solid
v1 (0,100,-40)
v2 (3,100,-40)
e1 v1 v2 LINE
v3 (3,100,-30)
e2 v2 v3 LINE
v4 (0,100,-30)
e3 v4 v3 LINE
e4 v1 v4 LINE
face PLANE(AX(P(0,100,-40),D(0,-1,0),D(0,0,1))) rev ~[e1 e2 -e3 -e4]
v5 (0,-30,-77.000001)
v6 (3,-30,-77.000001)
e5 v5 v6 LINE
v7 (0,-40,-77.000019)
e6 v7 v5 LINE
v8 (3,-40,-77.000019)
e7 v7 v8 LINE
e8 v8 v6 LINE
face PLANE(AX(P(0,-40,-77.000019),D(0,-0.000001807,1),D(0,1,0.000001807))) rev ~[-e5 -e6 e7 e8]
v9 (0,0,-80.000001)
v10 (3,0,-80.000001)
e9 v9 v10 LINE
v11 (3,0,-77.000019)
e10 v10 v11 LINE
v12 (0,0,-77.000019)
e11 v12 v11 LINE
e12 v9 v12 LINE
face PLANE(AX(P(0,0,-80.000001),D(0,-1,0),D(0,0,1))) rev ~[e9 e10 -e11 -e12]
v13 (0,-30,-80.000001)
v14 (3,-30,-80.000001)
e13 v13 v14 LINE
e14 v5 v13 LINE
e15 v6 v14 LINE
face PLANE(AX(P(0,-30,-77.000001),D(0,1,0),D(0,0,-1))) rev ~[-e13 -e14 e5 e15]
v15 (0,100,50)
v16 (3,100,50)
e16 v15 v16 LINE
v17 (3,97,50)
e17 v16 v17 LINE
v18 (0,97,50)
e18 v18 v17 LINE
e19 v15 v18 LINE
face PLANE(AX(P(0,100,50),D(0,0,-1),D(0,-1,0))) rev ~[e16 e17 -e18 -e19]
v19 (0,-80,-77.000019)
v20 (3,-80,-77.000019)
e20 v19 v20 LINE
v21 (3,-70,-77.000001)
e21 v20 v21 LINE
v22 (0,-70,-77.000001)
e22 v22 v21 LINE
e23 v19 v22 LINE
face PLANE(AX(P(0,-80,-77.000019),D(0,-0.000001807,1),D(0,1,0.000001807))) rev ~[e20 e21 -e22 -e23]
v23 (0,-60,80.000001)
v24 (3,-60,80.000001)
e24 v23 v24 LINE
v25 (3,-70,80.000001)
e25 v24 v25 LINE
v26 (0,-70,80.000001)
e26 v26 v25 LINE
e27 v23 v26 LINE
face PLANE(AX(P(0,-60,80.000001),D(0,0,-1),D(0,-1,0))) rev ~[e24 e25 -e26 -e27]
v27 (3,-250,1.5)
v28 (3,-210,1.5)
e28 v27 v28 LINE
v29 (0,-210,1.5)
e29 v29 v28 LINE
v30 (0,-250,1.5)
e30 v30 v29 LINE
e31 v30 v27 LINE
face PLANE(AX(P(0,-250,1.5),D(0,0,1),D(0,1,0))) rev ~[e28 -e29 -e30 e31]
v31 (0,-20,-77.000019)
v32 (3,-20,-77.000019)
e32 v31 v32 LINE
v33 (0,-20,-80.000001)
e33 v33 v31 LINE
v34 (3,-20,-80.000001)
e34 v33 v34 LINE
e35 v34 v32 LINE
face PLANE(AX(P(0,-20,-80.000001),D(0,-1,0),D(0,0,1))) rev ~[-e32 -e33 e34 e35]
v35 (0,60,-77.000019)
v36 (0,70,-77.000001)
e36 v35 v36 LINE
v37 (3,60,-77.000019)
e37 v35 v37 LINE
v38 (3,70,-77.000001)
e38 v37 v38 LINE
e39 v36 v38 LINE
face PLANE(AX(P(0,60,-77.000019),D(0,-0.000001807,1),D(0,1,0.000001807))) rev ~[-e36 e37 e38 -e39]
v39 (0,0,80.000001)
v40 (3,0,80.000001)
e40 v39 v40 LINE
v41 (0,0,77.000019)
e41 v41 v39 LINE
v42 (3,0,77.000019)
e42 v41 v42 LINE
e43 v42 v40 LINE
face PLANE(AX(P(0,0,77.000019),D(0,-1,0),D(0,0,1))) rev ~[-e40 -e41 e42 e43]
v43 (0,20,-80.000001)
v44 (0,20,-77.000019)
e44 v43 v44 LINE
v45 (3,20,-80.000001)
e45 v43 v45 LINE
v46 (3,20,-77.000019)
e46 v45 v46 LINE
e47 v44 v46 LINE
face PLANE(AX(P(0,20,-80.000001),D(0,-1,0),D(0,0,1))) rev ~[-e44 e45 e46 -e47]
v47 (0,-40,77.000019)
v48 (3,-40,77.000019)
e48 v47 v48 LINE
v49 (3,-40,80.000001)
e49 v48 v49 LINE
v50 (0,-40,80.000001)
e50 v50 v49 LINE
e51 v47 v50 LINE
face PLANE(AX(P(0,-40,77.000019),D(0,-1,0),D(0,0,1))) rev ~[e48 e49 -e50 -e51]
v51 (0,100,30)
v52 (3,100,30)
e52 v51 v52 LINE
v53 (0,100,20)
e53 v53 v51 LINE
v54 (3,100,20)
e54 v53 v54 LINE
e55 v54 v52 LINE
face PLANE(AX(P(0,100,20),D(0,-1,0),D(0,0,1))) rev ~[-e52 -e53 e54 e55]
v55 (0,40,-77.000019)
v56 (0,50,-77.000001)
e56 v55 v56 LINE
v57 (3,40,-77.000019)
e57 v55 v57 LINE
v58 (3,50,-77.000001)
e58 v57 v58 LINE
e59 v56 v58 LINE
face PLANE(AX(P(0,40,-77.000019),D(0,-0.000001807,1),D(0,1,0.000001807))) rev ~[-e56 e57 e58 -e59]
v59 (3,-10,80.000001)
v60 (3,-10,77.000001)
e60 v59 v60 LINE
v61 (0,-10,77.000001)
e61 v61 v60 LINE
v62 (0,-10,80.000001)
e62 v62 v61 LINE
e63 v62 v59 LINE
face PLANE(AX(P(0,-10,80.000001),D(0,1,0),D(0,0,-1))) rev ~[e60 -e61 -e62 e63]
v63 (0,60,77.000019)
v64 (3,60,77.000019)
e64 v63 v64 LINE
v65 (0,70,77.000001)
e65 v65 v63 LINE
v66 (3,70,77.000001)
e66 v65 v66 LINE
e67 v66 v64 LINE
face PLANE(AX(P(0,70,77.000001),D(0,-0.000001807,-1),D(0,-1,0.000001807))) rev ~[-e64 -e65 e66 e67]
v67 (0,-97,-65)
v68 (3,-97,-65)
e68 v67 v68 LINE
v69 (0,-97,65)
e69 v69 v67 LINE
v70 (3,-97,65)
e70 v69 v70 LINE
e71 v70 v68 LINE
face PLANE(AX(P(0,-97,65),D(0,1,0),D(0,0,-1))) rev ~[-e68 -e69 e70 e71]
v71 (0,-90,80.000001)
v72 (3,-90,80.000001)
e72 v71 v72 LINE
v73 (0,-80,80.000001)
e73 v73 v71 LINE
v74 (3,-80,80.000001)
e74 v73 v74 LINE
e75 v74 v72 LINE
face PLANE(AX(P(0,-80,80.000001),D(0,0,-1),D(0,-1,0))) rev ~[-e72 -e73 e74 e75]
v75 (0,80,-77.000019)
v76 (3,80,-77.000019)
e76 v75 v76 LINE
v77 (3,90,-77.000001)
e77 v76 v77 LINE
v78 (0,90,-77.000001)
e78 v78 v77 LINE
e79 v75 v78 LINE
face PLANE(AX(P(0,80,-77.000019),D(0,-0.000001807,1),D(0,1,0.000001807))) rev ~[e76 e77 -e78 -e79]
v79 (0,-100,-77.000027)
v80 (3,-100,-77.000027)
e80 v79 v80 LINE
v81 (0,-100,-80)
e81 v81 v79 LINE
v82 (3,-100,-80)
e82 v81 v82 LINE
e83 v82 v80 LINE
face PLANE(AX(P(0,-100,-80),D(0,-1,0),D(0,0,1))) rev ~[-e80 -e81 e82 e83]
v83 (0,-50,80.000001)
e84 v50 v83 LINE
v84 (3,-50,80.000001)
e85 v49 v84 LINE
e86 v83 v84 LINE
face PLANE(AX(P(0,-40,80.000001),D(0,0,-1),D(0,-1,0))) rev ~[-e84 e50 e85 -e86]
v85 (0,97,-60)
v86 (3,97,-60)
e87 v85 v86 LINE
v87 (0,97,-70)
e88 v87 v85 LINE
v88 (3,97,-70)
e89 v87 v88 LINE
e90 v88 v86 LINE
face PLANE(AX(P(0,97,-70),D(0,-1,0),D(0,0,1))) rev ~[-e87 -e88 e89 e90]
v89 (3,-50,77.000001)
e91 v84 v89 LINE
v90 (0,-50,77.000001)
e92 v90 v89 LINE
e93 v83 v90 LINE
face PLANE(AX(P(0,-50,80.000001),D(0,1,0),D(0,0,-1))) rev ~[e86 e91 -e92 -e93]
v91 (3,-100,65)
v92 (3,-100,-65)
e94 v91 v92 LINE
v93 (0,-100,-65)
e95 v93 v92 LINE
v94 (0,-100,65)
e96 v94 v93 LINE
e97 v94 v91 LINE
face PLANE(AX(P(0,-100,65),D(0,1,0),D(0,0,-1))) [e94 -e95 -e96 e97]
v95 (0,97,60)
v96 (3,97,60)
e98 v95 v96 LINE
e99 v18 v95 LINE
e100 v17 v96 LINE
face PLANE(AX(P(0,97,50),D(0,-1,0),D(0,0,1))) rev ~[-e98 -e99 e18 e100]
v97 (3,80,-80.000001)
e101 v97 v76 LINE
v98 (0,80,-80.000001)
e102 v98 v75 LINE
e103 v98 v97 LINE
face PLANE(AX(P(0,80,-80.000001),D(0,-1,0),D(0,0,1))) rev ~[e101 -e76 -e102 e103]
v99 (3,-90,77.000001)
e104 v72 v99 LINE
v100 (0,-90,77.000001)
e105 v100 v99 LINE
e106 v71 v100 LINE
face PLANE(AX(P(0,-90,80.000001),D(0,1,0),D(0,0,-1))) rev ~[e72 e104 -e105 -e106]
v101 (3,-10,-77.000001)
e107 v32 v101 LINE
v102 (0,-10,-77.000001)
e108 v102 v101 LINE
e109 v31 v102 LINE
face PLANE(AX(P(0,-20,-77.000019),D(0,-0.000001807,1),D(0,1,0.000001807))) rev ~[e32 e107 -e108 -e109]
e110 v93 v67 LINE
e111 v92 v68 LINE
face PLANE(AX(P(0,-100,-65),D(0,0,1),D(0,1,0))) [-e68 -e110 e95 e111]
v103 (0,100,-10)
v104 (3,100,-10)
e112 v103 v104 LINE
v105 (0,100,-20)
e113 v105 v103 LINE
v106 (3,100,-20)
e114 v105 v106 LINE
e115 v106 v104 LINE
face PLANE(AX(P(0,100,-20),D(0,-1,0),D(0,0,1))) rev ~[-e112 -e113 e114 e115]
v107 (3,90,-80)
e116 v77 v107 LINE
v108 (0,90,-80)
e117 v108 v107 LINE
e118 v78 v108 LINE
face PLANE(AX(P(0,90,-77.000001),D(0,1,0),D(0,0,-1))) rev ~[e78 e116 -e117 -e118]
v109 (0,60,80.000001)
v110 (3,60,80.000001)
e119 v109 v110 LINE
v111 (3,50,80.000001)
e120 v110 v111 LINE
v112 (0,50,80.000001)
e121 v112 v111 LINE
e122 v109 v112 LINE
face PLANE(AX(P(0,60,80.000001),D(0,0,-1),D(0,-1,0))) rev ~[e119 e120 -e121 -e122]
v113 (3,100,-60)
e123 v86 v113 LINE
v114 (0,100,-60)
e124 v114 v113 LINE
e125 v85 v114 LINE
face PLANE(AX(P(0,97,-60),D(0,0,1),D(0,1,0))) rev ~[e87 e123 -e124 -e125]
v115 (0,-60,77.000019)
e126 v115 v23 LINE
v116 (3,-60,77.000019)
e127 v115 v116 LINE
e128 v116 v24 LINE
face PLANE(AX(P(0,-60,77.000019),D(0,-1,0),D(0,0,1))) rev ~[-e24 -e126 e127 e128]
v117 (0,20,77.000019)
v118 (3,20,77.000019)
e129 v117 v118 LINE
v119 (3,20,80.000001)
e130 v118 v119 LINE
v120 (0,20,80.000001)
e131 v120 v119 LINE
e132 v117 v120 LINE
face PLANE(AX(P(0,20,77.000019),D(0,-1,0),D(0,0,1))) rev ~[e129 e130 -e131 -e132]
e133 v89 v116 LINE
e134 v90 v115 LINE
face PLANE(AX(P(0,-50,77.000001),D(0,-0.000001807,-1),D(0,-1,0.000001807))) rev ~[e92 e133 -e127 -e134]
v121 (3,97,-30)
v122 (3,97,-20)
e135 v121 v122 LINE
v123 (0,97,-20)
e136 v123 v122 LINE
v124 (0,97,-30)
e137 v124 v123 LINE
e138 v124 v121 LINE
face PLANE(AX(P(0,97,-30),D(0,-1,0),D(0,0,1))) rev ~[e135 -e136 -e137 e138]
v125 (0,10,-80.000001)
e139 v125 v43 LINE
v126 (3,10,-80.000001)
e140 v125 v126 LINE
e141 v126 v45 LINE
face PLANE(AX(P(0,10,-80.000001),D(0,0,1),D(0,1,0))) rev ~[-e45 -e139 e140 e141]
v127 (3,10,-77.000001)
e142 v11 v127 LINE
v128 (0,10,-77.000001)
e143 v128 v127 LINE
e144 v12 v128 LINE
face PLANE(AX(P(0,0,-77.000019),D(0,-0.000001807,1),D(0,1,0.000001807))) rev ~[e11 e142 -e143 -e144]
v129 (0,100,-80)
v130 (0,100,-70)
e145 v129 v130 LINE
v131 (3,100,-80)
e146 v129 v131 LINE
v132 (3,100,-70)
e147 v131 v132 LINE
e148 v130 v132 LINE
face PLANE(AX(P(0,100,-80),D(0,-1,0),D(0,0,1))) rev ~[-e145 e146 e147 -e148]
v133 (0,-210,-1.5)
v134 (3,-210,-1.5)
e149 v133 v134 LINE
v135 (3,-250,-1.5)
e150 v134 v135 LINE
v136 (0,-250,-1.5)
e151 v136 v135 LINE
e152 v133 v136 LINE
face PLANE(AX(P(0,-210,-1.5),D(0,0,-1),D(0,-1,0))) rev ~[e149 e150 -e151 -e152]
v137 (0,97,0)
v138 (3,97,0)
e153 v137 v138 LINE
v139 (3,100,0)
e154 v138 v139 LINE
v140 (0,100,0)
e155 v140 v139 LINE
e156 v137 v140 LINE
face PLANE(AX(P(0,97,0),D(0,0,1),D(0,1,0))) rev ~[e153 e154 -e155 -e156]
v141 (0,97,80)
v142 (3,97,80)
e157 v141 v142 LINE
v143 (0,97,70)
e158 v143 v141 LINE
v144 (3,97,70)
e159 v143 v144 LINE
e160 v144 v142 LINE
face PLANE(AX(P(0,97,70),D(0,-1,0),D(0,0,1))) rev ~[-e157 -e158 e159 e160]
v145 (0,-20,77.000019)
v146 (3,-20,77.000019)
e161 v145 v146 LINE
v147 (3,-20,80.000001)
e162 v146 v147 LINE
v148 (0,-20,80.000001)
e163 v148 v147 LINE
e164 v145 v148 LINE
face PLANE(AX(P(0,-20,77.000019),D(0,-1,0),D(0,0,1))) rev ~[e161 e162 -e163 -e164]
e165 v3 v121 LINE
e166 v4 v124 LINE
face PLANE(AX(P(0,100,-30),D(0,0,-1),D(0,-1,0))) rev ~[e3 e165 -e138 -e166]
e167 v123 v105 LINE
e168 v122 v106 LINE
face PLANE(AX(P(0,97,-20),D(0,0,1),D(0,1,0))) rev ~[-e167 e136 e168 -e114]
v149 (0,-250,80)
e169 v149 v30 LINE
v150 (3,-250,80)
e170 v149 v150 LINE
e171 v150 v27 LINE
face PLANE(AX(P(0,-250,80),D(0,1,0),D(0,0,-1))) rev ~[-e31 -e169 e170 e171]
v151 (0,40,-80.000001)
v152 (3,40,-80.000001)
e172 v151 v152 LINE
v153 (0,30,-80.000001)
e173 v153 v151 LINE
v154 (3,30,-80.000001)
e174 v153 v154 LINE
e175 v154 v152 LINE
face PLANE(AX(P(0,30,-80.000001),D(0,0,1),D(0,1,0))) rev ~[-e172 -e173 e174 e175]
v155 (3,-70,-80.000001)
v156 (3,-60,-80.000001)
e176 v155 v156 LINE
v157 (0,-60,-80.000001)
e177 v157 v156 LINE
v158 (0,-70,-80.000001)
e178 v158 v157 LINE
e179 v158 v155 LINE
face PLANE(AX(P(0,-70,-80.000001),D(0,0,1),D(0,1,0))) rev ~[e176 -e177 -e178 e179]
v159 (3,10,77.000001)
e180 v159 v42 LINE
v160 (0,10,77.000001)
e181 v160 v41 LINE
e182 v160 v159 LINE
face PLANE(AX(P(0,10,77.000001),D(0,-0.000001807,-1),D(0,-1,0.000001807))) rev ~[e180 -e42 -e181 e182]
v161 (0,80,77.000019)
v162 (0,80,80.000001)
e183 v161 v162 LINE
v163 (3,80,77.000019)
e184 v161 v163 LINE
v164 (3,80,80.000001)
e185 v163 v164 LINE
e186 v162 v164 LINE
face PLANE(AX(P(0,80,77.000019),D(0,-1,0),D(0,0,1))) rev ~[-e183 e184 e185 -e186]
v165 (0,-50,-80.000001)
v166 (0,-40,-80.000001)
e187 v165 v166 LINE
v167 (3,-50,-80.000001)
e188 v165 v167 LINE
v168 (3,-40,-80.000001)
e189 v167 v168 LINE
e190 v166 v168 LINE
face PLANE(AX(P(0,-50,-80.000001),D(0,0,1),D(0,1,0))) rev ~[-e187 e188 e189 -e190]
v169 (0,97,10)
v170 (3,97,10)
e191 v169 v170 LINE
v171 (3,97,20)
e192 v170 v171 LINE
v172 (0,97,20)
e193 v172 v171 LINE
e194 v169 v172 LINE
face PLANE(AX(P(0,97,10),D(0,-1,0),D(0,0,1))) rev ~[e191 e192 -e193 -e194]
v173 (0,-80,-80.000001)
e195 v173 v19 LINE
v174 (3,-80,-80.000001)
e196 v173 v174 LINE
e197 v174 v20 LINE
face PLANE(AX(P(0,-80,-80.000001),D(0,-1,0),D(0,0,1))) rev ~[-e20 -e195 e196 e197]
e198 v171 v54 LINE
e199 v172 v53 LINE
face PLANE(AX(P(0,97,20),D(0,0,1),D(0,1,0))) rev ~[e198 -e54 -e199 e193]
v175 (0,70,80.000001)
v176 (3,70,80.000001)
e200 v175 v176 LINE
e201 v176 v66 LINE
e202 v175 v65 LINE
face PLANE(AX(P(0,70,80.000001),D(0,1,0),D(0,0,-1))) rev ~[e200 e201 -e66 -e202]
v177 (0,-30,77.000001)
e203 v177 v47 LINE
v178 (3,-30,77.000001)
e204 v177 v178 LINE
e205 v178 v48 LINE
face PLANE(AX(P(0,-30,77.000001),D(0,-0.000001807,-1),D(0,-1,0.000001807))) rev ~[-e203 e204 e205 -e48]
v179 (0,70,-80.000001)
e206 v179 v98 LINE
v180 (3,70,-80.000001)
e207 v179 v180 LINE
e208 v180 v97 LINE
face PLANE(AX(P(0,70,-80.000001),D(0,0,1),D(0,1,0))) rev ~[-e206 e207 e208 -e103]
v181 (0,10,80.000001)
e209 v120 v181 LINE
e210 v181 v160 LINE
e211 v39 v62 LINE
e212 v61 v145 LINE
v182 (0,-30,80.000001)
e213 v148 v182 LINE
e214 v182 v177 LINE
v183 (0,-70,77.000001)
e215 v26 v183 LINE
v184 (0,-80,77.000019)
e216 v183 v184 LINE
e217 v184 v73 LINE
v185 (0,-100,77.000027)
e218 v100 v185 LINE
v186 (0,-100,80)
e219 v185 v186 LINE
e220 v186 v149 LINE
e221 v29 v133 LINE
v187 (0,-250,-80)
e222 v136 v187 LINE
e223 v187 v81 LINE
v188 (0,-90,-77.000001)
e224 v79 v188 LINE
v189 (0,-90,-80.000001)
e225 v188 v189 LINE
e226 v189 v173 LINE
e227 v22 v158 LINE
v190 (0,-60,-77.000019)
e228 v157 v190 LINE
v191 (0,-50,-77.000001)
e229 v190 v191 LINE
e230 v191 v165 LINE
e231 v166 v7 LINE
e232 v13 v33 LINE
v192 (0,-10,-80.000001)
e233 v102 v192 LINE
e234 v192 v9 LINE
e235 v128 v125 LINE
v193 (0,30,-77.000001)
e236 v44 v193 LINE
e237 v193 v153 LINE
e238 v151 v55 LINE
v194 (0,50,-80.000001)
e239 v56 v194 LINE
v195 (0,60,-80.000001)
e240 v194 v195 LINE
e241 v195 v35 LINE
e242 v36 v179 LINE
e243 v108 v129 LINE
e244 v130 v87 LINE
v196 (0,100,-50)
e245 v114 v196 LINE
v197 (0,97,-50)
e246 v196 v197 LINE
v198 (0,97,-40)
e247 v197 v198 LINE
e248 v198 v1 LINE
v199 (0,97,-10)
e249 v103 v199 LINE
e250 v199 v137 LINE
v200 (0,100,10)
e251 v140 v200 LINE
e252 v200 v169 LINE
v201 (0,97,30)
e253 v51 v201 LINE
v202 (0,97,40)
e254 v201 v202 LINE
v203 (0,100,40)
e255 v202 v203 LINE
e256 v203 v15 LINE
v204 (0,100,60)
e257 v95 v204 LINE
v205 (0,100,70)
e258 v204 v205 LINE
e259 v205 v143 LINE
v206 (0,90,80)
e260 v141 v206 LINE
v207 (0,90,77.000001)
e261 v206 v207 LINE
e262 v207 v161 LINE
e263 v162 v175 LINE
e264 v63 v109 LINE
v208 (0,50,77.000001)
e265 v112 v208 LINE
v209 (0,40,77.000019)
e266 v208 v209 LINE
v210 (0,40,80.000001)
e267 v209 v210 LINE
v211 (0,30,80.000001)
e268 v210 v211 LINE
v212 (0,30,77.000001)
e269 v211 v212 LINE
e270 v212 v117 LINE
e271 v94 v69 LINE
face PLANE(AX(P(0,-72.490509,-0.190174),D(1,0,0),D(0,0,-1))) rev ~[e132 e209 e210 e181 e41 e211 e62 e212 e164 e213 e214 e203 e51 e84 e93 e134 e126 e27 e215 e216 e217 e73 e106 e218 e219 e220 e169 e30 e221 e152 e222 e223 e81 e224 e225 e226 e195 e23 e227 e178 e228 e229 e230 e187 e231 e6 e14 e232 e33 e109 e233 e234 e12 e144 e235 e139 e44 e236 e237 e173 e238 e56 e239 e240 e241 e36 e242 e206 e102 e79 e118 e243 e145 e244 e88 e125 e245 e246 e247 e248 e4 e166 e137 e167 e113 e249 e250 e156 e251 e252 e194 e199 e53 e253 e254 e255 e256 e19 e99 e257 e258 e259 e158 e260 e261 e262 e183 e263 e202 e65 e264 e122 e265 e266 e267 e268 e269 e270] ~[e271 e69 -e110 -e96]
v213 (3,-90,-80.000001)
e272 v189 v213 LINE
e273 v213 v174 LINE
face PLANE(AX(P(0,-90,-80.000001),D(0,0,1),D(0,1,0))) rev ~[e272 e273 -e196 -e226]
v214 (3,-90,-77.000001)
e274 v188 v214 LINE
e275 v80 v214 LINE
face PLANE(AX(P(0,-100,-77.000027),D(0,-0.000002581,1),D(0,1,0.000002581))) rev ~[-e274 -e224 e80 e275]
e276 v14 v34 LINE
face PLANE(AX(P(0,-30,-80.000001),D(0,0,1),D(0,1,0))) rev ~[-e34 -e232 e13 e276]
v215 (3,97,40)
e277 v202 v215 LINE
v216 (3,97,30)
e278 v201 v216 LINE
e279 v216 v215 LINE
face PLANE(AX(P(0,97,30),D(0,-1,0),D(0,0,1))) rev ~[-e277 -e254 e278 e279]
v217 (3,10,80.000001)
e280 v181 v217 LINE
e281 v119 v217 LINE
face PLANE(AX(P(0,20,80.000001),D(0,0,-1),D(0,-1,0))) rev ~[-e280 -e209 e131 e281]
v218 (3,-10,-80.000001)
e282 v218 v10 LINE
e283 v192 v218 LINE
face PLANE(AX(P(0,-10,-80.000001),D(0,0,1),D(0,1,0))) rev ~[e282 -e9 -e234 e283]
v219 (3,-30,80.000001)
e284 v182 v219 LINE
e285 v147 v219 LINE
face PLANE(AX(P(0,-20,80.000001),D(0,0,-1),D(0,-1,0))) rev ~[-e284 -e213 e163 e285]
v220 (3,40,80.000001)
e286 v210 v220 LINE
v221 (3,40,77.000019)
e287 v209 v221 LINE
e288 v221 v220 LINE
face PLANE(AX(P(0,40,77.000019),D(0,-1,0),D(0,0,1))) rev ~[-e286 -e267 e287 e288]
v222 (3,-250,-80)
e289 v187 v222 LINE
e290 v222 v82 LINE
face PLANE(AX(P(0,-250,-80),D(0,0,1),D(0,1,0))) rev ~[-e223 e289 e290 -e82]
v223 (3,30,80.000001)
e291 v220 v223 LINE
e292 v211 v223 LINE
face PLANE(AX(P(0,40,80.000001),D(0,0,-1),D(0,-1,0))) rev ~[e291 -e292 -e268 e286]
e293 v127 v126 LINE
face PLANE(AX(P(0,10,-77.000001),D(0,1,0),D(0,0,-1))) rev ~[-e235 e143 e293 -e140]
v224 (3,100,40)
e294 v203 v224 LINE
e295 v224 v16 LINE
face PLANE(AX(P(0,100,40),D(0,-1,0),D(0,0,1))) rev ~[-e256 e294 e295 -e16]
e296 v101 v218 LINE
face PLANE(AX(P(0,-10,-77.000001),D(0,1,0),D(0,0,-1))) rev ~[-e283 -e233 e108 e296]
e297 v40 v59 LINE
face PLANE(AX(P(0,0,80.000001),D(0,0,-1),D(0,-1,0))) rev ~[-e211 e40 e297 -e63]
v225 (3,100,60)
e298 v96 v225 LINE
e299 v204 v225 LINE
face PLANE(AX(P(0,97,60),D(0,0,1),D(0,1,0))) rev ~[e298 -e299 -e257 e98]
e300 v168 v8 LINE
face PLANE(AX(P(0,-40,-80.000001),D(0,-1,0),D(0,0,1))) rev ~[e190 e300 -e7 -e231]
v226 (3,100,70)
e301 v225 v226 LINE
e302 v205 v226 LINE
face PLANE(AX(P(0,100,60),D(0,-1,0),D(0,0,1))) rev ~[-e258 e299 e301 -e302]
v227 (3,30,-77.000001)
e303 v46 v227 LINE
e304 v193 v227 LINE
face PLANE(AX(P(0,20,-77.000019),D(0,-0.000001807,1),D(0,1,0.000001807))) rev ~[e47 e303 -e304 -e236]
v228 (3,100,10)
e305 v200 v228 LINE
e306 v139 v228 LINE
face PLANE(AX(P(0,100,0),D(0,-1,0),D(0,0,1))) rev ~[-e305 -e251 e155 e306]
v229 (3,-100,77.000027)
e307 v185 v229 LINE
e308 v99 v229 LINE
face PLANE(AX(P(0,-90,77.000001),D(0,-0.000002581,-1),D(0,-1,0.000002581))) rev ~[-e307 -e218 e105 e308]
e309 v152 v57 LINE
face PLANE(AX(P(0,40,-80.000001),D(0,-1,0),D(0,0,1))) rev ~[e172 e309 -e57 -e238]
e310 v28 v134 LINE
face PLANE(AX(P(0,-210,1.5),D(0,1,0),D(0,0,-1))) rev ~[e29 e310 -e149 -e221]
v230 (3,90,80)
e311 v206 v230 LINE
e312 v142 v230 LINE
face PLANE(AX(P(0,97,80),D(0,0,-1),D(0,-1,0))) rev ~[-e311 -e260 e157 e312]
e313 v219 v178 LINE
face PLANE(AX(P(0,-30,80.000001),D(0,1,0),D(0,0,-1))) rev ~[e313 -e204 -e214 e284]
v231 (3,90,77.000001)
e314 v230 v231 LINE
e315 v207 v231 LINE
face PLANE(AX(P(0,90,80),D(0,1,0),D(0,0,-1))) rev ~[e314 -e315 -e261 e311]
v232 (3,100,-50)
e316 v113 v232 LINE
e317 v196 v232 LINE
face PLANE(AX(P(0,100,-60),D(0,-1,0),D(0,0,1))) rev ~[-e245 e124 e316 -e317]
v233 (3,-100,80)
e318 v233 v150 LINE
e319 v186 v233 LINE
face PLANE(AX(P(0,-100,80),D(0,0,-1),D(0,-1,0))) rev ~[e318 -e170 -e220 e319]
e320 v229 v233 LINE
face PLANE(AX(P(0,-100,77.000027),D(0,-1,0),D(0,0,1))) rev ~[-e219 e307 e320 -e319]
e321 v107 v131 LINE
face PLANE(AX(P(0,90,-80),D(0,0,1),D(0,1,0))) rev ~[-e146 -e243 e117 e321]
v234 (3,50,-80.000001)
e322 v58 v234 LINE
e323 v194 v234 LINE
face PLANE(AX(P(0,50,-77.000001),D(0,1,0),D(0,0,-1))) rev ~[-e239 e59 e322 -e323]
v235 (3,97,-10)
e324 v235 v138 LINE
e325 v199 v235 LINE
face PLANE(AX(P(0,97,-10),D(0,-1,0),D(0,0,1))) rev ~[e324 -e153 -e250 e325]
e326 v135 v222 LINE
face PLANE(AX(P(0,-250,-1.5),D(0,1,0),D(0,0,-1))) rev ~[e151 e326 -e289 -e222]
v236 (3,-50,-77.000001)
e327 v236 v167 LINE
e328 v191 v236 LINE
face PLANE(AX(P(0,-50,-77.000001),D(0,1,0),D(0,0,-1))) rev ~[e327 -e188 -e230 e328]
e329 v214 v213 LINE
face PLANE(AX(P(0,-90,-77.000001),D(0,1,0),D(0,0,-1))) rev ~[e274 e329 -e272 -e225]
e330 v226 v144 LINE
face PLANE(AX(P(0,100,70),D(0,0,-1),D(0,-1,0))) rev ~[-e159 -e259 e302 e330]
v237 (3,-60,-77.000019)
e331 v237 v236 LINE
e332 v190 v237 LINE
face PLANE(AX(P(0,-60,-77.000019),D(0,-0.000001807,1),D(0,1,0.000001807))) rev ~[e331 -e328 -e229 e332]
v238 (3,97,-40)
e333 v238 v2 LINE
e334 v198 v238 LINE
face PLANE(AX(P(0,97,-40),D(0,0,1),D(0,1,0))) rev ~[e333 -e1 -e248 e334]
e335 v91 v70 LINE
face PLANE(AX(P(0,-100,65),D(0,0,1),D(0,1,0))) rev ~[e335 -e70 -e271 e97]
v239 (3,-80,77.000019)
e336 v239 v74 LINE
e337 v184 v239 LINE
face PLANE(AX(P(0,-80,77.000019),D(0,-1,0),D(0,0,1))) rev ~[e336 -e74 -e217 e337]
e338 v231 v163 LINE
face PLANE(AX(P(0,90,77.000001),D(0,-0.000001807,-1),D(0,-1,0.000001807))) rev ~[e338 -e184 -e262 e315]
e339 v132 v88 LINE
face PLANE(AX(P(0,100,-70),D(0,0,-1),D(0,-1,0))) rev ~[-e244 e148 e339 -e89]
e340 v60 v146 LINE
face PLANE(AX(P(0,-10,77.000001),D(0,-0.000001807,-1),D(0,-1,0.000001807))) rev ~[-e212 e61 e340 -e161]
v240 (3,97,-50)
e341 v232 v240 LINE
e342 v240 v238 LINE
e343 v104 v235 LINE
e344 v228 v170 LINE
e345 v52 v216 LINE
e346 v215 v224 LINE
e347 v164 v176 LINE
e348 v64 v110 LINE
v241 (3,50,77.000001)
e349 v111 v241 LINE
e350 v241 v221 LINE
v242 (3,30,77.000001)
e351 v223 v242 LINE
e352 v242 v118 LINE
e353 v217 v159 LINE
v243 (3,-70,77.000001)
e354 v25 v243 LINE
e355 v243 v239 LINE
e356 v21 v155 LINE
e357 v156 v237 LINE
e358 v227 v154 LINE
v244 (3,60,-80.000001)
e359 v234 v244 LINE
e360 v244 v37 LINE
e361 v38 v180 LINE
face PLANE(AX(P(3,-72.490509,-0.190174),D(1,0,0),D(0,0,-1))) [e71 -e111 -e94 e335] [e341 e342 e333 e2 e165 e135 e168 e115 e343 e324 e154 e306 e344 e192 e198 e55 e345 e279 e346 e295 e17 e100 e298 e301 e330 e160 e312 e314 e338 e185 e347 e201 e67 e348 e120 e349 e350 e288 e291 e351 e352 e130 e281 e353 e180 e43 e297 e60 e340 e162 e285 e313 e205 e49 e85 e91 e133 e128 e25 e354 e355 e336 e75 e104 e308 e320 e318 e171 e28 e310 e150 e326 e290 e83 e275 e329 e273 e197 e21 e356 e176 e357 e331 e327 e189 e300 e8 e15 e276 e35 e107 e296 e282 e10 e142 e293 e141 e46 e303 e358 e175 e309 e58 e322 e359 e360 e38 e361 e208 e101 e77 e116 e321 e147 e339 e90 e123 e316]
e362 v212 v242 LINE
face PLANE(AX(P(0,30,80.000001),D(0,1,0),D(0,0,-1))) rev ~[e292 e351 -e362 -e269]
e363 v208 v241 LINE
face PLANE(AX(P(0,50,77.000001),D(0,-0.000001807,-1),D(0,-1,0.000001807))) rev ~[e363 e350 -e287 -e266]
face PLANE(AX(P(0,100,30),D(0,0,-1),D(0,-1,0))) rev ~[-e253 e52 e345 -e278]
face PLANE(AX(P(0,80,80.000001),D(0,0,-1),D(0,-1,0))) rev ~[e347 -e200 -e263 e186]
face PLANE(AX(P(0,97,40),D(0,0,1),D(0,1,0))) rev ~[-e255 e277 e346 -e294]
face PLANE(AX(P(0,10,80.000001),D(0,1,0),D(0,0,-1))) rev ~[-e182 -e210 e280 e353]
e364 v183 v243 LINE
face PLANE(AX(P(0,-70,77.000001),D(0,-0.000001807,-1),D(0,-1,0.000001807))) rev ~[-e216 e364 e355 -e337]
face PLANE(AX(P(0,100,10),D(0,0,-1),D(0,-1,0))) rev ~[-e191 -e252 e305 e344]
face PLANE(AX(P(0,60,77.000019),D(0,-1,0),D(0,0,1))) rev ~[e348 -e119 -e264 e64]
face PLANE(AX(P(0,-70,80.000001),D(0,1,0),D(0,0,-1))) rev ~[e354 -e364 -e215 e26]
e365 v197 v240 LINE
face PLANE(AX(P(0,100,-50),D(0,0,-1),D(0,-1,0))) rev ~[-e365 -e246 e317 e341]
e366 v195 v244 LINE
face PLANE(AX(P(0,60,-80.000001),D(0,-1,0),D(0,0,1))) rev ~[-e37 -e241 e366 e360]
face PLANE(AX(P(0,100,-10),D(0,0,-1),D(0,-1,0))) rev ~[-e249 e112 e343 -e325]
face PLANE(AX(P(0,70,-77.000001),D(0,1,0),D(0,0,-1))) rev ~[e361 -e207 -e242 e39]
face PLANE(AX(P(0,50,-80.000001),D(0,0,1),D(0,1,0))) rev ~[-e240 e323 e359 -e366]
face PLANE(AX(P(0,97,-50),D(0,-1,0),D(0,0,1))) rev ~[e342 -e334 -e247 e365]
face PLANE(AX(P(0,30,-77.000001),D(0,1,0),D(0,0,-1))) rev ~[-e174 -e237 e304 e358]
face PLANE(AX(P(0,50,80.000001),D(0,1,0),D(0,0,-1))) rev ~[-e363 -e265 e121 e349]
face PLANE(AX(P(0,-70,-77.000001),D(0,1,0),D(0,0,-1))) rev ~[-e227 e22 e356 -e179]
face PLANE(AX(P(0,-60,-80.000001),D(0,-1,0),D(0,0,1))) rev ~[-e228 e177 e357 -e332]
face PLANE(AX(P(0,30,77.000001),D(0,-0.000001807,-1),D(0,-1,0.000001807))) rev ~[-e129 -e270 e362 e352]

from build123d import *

# Parameters (mm, degrees)
CROQUIS1_W              = 130
CROQUIS1_H              = 3
SALIENTE_EXTRUIR1_DEPTH = 3


with BuildPart() as part:
    # Croquis1 → Saliente-Extruir1 (new body)
    with BuildSketch(Plane(origin=(0, 0, 0), x_dir=(0, 0, -1), z_dir=(1, 0, 0))):
        Polygon((-80.00000142, -80), (-80.00000142, -90), (-77.00000142, -90), (-77.000027229, -100), (-80, -100), (-80, -250), (-1.5, -250), (-1.5, -210), (1.5, -210), (1.5, -250), (80, -250), (80, -100), (77.000027229, -100), (77.00000142, -90), (80.00000142, -90), (80.00000142, -80), (77.000019468, -80), (77.000001401, -70.000000014), (80.000001401, -70.000000014), (80.000001401, -60.000000014), (77.000019449, -60.000000014), (77.000001383, -50.000000028), (80.000001383, -50.000000028), (80.000001383, -40.000000028), (77.000019431, -40.000000028), (77.000001365, -30.000000042), (80.000001365, -30.000000042), (80.000001365, -20.000000042), (77.000019412, -20.000000042), (77.000001346, -10.000000056), (80.000001346, -10.000000056), (80.000001346, -5.6e-08), (77.000019394, -5.6e-08), (77.000001328, 9.99999993), (80.000001328, 9.99999993), (80.000001328, 19.99999993), (77.000019376, 19.99999993), (77.00000131, 29.999999916), (80.00000131, 29.999999916), (80.00000131, 39.999999916), (77.000019357, 39.999999916), (77.000001291, 49.999999903), (80.000001291, 49.999999903), (80.000001291, 59.999999903), (77.000019339, 59.999999903), (77.000001273, 69.999999889), (80.000001273, 69.999999889), (80.000001273, 79.999999889), (77.000019321, 79.999999889), (77.000001254, 90), (80, 90), (80, 97), (80, 100), (70, 100), (70, 97), (60, 97), (60, 100), (50, 100), (50, 97), (40, 97), (40, 100), (30, 100), (30, 97), (20, 97), (20, 100), (10, 100), (10, 97), (0, 97), (0, 100), (-10, 100), (-10, 97), (-20, 97), (-20, 100), (-30, 100), (-30, 97), (-40, 97), (-40, 100), (-50, 100), (-50, 97), (-60, 97), (-60, 100), (-70, 100), (-70, 97), (-80, 97), (-80, 90), (-77.000001254, 90), (-77.000019321, 79.999999889), (-80.000001273, 79.999999889), (-80.000001273, 69.999999889), (-77.000001273, 69.999999889), (-77.000019339, 59.999999903), (-80.000001291, 59.999999903), (-80.000001291, 49.999999903), (-77.000001291, 49.999999903), (-77.000019357, 39.999999916), (-80.00000131, 39.999999916), (-80.00000131, 29.999999916), (-77.00000131, 29.999999916), (-77.000019376, 19.99999993), (-80.000001328, 19.99999993), (-80.000001328, 9.99999993), (-77.000001328, 9.99999993), (-77.000019394, -5.6e-08), (-80.000001346, -5.6e-08), (-80.000001346, -10.000000056), (-77.000001346, -10.000000056), (-77.000019412, -20.000000042), (-80.000001365, -20.000000042), (-80.000001365, -30.000000042), (-77.000001365, -30.000000042), (-77.000019431, -40.000000028), (-80.000001383, -40.000000028), (-80.000001383, -50.000000028), (-77.000001383, -50.000000028), (-77.000019449, -60.000000014), (-80.000001401, -60.000000014), (-80.000001401, -70.000000014), (-77.000001401, -70.000000014), (-77.000019468, -80), align=None)
        with Locations((0, -98.5)):
            Rectangle(CROQUIS1_W, CROQUIS1_H, mode=Mode.SUBTRACT)
    extrude(amount=SALIENTE_EXTRUIR1_DEPTH)


solid = part.part
